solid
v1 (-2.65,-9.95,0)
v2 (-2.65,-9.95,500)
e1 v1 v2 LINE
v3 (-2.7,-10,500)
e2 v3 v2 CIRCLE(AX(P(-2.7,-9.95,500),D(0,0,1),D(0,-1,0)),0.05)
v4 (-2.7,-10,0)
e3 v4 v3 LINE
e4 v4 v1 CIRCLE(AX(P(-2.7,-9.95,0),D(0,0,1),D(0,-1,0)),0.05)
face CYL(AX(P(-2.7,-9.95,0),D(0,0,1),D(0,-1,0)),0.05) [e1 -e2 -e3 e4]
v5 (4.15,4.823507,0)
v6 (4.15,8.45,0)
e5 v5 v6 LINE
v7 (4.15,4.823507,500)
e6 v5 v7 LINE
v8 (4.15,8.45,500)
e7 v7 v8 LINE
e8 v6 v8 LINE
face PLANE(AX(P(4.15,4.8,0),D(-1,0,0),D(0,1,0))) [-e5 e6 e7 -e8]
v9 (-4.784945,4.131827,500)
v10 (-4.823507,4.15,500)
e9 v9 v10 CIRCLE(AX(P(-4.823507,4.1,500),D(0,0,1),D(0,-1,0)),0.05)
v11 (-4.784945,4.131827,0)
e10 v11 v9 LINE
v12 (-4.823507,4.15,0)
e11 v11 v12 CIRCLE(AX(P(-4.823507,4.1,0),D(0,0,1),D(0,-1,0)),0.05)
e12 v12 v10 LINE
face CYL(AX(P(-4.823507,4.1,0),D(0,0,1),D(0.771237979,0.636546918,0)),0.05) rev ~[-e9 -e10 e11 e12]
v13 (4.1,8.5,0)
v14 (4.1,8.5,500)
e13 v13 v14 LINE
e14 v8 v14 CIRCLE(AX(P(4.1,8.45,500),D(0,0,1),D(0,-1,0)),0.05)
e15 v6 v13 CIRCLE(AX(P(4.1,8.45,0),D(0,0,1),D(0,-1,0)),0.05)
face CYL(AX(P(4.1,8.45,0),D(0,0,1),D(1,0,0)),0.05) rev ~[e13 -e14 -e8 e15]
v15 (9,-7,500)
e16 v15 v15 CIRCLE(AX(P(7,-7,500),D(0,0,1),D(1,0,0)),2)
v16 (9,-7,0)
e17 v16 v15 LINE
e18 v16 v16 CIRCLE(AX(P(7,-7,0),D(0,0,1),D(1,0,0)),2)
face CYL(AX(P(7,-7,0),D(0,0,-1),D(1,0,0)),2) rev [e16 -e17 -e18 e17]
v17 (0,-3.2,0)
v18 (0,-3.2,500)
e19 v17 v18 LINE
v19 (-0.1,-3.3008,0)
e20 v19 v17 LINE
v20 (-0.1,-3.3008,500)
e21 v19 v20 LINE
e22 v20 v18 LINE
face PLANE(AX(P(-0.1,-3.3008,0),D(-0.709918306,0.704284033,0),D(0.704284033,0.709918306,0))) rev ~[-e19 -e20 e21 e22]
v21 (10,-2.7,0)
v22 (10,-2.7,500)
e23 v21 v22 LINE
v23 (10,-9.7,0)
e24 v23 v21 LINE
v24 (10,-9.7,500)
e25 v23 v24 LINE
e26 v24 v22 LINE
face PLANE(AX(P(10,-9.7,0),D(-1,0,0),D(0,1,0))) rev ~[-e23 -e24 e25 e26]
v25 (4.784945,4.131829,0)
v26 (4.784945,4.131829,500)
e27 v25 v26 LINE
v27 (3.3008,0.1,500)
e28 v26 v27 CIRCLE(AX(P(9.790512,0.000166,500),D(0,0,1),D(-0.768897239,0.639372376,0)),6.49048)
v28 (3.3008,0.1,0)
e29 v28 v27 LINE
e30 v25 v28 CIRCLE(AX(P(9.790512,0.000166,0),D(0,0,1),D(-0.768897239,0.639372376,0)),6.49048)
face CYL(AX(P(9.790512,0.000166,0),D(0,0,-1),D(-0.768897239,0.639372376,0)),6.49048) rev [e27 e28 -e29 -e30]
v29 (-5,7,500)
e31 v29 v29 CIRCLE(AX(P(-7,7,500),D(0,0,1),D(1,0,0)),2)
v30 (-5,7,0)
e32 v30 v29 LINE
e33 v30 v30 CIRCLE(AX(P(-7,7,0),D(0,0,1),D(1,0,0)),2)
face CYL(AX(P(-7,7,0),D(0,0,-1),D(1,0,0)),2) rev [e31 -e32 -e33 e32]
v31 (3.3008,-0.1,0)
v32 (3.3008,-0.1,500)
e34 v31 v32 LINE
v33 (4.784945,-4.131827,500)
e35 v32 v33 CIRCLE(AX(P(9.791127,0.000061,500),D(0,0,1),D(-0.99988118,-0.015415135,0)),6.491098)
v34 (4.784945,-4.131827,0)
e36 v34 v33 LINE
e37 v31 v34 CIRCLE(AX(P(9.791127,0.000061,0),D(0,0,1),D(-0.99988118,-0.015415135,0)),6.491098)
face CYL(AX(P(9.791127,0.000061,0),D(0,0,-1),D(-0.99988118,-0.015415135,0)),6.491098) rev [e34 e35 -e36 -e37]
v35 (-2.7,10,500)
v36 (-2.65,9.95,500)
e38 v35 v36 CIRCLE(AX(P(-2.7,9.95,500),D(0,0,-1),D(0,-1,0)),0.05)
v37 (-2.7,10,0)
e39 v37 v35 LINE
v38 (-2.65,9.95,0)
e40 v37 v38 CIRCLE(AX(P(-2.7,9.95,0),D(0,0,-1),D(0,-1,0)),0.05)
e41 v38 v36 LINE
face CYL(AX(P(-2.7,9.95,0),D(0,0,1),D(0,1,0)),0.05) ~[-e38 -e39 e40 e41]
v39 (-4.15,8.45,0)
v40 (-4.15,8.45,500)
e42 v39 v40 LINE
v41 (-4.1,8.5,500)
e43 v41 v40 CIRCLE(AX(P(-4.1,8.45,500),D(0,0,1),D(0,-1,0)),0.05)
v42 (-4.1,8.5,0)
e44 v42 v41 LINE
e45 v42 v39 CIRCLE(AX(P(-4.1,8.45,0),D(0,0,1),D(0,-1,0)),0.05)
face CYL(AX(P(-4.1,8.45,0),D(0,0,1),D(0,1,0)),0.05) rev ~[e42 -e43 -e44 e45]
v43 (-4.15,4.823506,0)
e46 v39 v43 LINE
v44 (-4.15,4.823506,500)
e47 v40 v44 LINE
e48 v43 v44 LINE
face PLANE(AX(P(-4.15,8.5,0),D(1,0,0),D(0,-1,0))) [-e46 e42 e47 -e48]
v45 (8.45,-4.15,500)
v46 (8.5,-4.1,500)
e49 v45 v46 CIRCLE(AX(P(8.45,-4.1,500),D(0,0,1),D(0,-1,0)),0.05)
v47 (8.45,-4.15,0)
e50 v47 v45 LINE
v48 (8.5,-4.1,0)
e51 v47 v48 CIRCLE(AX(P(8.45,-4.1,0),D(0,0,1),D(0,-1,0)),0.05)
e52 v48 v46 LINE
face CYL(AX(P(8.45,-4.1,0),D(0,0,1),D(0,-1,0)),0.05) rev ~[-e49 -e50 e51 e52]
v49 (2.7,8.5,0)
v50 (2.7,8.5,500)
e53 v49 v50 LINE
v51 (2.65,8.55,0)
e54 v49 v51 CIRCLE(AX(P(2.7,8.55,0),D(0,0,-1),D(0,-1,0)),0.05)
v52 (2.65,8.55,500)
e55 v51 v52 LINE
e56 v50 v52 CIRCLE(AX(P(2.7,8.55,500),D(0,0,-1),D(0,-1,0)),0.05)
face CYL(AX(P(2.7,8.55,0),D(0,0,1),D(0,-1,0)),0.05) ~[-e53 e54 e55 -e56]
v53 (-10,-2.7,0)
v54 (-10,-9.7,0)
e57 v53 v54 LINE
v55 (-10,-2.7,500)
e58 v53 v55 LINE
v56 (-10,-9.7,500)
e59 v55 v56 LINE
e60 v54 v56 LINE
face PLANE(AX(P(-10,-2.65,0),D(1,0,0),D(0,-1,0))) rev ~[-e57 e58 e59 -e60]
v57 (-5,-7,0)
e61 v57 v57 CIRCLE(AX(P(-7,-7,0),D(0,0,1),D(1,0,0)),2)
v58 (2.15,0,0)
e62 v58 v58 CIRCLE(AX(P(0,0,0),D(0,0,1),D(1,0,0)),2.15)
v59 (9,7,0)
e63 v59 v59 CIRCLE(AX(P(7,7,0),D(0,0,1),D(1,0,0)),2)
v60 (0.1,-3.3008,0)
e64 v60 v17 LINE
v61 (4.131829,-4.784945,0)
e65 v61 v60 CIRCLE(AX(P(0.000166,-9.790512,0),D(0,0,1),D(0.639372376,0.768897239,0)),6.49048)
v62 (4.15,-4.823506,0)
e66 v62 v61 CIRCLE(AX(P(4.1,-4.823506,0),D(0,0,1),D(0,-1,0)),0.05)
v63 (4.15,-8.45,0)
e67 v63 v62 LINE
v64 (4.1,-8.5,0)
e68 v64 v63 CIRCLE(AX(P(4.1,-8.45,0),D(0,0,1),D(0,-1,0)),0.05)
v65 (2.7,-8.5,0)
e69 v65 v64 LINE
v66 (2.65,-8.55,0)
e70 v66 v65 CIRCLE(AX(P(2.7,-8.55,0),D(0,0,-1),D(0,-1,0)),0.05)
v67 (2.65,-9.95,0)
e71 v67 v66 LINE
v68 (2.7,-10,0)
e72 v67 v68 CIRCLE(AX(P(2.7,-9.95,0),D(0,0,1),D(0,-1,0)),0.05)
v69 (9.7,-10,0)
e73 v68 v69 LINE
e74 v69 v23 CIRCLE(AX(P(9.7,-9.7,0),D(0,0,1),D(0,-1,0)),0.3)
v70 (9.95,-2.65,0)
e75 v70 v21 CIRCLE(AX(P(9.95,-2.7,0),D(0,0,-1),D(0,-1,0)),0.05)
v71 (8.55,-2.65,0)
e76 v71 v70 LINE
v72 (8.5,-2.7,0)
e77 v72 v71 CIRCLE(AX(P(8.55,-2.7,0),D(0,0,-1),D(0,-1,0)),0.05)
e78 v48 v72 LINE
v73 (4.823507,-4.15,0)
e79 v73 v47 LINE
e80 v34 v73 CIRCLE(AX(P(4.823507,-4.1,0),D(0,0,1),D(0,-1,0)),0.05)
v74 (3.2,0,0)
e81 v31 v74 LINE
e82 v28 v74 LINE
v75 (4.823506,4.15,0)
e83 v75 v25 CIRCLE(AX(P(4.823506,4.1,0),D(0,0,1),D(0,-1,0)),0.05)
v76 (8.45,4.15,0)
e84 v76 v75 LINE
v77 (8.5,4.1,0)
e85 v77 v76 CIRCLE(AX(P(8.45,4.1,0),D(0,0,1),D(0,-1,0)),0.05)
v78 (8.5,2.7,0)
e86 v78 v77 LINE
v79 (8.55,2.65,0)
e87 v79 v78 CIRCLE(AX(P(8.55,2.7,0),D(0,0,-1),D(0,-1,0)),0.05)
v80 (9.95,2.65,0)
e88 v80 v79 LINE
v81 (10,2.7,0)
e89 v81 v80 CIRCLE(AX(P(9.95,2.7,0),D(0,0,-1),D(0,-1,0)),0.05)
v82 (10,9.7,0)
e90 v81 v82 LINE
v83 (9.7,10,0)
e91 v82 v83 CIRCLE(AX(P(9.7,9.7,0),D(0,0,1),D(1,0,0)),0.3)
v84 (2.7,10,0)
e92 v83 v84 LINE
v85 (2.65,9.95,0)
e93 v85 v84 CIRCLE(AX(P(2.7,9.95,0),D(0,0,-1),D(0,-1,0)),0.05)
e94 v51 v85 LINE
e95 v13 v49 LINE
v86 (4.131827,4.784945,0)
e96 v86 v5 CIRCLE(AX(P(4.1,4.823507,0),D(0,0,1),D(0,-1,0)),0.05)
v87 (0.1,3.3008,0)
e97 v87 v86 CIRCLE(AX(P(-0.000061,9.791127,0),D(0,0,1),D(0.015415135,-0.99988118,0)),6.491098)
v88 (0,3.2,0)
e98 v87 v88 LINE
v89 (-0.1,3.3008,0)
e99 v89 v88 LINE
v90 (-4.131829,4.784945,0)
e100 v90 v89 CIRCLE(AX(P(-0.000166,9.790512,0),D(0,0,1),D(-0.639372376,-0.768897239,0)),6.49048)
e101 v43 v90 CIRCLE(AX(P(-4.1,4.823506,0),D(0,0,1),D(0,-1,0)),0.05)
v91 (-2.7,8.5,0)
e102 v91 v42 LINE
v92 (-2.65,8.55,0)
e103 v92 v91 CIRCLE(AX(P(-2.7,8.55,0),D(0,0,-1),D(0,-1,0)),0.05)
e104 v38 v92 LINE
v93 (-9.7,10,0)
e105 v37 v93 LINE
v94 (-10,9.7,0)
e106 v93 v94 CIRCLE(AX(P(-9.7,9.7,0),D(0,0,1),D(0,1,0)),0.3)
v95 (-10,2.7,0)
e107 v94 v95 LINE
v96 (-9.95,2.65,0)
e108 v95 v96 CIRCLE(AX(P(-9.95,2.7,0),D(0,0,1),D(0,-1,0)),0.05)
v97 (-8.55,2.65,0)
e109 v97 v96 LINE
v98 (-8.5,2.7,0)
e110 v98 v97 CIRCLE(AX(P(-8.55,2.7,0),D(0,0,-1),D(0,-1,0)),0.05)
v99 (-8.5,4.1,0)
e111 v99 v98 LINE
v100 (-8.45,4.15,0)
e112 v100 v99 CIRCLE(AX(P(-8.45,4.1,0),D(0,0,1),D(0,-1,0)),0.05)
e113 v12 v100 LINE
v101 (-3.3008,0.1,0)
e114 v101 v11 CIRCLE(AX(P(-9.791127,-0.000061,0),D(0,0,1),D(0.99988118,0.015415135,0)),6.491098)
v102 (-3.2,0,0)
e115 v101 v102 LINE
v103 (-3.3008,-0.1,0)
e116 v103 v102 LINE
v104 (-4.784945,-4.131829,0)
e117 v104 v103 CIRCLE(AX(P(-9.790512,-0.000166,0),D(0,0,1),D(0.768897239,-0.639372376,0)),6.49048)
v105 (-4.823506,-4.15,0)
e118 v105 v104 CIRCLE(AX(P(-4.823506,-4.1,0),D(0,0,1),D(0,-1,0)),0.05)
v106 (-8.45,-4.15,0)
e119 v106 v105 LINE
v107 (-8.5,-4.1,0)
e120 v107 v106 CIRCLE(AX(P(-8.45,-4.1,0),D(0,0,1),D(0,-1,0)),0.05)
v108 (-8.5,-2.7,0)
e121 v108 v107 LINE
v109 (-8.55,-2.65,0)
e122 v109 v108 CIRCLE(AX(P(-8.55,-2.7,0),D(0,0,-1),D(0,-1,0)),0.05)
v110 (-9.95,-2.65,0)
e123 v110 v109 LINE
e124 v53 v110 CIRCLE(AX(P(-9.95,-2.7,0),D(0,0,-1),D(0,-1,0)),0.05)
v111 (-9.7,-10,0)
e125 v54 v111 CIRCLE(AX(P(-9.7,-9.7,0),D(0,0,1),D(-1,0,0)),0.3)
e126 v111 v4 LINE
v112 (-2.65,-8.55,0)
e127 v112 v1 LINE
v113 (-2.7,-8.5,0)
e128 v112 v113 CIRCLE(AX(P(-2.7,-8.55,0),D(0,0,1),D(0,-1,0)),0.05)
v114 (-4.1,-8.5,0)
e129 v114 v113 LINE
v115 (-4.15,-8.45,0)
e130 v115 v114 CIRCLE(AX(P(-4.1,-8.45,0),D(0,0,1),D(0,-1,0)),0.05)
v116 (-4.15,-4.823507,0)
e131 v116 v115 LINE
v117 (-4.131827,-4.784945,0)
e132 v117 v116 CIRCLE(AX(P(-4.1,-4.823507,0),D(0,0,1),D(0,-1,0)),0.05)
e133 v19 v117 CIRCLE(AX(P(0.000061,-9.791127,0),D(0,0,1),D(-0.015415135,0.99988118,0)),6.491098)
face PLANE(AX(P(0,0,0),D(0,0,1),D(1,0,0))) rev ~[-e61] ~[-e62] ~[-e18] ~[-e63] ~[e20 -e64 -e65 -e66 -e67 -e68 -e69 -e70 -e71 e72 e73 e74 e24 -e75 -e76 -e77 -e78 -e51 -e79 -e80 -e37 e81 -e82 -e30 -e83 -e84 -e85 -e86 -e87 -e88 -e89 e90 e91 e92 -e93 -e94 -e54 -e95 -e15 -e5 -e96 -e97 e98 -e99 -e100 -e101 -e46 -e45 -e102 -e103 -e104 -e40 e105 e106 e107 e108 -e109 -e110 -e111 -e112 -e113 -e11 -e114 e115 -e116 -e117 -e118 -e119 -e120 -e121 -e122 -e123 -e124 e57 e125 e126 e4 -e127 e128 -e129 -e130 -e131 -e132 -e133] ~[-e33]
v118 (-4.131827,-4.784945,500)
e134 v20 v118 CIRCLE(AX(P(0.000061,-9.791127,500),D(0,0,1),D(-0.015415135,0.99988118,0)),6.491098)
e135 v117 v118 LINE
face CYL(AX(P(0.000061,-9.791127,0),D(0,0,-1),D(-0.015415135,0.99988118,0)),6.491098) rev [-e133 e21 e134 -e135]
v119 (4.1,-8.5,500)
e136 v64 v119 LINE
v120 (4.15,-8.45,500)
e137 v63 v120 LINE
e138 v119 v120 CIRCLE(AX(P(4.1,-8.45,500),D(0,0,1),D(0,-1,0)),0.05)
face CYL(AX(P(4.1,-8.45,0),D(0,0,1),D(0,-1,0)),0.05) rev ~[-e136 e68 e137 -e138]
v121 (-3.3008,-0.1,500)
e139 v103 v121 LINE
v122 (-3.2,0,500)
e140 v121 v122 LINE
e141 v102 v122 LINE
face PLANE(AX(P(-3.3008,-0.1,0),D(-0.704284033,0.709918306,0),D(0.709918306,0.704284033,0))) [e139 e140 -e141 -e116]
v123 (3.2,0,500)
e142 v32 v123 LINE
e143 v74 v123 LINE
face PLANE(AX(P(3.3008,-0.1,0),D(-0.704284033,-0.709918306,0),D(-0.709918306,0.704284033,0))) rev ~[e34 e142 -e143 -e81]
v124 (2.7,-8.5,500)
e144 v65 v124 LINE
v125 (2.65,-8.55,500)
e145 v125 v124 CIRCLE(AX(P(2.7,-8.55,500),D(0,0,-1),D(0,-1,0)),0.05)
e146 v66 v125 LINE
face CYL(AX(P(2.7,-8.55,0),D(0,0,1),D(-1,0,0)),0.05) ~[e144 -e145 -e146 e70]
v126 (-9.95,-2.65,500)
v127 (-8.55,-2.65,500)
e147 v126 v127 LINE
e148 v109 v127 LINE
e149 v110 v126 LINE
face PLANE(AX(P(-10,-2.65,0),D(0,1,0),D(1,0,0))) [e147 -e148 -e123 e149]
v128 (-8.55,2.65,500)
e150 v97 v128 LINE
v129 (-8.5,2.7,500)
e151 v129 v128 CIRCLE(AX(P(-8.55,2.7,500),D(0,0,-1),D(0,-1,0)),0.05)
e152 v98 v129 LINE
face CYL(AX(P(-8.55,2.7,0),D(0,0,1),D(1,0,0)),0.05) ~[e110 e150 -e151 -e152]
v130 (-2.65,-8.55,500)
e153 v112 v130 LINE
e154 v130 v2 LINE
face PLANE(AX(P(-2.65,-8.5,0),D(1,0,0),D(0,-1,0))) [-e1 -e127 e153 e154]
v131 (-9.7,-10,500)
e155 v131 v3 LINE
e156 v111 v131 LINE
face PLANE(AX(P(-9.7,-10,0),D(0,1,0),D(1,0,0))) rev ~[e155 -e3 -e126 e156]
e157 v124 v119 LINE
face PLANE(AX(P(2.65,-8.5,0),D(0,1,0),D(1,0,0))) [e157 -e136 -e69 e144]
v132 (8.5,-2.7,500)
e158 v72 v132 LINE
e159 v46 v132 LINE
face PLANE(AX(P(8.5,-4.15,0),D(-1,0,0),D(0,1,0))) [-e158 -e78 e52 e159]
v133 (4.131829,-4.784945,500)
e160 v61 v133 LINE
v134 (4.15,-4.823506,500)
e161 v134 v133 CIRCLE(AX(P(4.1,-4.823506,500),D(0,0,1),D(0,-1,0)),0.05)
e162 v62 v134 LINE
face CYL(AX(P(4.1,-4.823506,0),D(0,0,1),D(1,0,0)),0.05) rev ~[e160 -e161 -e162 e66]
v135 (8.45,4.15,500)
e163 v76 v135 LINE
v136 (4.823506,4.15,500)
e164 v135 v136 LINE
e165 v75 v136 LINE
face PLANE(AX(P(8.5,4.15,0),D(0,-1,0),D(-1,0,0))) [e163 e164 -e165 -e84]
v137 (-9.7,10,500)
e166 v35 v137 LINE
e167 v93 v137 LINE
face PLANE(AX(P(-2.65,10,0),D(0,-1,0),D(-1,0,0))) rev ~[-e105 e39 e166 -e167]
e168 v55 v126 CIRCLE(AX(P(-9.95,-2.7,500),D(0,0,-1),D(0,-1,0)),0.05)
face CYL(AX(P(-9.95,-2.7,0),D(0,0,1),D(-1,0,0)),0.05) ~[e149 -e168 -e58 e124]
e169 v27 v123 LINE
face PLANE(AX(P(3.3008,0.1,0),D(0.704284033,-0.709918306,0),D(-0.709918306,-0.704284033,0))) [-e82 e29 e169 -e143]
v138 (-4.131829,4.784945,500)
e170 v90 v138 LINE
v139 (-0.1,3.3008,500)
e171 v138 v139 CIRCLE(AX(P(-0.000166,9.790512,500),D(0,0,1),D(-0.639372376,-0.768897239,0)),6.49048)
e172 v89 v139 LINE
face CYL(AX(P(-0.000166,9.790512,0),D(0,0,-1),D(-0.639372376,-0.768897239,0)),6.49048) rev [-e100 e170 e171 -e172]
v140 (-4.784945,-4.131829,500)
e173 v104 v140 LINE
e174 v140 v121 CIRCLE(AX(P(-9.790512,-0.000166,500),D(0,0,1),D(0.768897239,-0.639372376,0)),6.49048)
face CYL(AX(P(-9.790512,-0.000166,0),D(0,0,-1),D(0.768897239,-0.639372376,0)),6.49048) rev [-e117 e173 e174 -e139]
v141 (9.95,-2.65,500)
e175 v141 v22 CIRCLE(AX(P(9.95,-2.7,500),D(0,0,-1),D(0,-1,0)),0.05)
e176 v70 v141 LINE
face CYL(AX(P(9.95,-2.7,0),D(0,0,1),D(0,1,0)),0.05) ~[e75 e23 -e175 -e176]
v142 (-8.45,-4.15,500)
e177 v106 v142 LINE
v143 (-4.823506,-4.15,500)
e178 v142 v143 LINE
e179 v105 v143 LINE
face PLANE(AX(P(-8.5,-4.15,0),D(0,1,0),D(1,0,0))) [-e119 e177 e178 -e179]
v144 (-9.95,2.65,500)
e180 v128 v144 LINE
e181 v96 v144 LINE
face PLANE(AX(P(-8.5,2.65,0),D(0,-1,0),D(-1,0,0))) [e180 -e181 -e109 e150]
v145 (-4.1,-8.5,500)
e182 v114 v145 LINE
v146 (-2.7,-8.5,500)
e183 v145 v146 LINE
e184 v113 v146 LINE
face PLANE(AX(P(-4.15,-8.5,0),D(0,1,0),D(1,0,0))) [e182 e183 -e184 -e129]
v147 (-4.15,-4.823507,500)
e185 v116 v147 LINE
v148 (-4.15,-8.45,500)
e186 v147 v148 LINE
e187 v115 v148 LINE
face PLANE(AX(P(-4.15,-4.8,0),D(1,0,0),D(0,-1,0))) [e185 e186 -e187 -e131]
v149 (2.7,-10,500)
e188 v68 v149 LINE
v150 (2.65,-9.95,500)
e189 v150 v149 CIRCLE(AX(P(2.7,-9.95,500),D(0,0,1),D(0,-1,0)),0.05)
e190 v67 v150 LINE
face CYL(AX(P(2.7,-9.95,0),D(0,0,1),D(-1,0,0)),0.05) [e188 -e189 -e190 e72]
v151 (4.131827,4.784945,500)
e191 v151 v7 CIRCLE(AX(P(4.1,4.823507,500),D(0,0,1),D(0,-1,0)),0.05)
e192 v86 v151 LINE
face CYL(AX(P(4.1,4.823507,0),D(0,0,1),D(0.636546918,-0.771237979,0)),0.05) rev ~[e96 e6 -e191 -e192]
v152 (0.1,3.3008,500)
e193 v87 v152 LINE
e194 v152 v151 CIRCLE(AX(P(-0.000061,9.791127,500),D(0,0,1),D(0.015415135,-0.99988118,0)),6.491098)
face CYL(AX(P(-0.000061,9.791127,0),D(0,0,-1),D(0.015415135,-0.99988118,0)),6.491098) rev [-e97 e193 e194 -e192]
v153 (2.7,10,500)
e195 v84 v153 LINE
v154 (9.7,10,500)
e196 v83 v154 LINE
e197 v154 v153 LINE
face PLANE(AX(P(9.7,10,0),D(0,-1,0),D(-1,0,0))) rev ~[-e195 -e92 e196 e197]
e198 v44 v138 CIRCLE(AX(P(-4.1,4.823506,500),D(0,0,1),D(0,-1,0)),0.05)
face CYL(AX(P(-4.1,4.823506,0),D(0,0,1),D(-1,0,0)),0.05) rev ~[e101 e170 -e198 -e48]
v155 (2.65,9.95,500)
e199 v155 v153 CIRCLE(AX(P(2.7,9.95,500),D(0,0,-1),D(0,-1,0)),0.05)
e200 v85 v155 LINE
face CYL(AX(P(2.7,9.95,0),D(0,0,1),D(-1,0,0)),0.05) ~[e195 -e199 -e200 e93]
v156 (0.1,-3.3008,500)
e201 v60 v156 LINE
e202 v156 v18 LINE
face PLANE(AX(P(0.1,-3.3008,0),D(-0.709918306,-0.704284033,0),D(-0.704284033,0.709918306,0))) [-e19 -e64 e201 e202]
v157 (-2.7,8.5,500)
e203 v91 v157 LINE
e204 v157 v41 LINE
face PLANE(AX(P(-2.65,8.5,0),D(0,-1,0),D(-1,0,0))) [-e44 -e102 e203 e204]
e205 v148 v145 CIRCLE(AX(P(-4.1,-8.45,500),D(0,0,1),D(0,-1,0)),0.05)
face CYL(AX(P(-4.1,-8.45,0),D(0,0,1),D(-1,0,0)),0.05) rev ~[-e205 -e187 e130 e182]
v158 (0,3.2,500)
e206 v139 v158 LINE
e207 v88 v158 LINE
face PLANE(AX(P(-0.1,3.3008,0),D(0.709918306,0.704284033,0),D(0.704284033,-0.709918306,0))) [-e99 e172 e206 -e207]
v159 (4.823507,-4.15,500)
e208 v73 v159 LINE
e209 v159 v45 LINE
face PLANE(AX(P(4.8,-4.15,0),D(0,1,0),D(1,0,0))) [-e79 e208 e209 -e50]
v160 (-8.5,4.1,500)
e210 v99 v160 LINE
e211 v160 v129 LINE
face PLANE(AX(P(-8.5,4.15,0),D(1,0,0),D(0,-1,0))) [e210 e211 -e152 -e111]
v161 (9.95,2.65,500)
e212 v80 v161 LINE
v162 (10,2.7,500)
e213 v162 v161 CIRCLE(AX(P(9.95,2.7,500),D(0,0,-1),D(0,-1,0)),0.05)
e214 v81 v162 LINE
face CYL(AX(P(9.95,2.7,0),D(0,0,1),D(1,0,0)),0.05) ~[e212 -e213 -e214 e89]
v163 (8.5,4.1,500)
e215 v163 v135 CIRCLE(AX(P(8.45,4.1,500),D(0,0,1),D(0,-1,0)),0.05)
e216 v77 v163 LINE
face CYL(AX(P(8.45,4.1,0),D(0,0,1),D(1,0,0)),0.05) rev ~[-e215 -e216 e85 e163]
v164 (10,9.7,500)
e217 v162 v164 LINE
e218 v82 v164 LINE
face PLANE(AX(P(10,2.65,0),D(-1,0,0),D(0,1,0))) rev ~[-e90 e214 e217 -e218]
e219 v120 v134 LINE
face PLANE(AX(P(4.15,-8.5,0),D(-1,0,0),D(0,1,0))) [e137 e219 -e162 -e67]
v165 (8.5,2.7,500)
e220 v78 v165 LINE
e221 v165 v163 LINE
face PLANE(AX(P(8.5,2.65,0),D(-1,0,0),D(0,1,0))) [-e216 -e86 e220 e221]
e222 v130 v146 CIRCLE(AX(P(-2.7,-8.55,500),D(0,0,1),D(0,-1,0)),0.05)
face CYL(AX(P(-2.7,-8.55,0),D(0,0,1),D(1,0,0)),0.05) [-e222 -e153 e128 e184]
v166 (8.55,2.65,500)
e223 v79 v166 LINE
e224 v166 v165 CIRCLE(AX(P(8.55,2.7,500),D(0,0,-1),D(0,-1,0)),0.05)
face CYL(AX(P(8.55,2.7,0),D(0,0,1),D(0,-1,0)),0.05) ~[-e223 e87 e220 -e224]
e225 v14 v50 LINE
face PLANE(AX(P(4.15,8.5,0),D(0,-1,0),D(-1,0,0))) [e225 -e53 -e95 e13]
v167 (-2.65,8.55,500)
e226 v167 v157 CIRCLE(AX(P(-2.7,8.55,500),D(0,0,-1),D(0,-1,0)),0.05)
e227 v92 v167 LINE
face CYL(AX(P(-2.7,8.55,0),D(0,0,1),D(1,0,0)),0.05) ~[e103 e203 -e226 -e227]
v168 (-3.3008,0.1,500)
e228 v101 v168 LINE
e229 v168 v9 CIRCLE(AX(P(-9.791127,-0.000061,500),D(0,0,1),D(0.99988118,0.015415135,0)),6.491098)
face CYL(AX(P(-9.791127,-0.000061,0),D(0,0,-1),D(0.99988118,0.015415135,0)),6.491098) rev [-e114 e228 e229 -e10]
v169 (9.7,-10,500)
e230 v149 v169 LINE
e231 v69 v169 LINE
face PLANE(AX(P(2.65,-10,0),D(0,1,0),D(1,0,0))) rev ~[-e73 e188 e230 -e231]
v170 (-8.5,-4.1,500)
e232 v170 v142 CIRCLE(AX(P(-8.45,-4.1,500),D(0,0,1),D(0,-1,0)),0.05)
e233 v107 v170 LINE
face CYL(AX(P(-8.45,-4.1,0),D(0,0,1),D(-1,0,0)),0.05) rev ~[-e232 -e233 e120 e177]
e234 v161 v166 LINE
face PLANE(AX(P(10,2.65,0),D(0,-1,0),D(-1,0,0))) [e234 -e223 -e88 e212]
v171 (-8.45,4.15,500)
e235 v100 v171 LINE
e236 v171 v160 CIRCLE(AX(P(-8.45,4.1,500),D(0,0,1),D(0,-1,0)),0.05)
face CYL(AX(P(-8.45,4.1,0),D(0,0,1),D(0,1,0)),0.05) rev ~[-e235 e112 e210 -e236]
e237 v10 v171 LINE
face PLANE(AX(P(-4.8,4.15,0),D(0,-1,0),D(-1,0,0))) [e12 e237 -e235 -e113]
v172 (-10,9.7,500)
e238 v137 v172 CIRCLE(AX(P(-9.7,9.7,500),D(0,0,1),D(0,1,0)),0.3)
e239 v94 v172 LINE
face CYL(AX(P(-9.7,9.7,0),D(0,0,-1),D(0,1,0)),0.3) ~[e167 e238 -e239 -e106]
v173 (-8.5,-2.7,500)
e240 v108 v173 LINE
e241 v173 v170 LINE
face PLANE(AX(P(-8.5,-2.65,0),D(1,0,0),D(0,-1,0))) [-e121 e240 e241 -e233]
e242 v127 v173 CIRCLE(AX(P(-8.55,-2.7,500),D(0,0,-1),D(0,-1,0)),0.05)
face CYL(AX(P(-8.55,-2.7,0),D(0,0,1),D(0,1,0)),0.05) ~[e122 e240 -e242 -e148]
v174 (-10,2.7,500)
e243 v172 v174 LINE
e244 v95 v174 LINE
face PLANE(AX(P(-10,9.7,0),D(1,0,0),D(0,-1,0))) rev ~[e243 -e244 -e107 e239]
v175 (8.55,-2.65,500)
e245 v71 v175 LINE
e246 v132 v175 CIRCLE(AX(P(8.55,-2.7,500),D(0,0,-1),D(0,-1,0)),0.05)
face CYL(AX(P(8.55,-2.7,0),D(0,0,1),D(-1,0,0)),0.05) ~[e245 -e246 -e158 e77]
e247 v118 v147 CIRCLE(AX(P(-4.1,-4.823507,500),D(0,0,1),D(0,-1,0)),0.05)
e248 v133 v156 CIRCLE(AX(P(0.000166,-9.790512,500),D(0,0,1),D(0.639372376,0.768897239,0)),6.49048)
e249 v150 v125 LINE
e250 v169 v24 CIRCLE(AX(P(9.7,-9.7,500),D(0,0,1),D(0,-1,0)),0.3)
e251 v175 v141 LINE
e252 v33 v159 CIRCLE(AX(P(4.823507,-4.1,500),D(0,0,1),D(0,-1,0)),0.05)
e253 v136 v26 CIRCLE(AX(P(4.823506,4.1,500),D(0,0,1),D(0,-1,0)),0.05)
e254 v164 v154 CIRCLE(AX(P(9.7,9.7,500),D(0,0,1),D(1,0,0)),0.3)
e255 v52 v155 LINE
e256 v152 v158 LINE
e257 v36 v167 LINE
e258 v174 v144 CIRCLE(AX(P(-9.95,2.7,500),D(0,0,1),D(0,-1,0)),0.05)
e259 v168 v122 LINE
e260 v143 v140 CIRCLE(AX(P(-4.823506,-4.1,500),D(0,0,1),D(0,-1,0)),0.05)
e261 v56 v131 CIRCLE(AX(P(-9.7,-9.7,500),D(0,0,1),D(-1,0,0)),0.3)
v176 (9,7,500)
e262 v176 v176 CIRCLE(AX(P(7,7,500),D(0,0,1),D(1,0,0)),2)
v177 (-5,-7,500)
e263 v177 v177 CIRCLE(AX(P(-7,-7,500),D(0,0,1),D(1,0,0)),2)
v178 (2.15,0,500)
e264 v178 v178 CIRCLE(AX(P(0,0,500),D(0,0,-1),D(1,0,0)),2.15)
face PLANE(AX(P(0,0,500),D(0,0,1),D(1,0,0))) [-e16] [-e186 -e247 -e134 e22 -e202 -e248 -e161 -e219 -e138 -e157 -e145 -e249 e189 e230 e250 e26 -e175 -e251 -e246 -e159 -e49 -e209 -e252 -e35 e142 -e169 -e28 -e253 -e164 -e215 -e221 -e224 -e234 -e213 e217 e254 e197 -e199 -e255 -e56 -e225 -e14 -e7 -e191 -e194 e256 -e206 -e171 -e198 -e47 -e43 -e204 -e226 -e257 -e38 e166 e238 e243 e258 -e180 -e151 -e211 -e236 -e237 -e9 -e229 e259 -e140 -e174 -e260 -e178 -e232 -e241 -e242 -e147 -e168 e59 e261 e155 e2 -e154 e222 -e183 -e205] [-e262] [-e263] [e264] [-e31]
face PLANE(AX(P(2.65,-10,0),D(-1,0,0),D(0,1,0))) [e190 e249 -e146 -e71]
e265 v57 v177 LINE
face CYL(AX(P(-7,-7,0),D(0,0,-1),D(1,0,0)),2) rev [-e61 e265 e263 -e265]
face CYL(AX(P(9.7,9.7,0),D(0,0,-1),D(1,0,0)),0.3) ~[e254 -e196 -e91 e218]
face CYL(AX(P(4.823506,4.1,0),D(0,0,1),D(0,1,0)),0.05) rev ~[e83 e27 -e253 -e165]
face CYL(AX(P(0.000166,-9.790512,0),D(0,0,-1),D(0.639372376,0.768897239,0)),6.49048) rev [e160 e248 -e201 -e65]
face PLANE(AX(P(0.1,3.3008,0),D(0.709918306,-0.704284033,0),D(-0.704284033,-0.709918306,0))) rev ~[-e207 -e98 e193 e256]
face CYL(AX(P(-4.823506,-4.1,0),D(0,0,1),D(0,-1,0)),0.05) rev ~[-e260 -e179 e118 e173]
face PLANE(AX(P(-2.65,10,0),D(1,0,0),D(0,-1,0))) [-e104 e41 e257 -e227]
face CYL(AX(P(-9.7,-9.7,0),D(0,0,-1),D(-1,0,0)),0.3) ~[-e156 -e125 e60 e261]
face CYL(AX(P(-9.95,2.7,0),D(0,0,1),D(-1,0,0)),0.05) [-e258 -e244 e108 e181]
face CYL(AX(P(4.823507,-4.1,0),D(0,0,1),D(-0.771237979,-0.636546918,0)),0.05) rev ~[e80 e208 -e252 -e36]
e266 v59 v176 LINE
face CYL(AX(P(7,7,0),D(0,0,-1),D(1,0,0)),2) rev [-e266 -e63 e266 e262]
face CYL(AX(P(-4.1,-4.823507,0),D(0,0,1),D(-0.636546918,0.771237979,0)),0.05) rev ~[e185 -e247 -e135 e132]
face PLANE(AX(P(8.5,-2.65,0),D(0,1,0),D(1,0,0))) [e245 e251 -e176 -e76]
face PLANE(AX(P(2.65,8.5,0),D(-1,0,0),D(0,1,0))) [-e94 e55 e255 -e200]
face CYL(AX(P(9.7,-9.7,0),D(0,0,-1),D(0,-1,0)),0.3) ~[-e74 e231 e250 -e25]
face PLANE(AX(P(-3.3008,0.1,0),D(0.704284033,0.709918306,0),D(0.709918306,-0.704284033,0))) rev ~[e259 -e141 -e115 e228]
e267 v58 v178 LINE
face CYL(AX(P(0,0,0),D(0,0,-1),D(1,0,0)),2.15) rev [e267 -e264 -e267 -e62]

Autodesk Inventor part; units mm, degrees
ref_plane "YZ Plane" through (0, 0, 0) normal (1, 0, 0) x (0, 1, 0)
ref_plane "XZ Plane" through (0, 0, 0) normal (0, 1, 0) x (-1, 0, 0)
ref_plane "XY Plane" through (0, 0, 0) normal (0, 0, 1) x (1, 0, 0)
sketch "스케치1" plane through (0, 0, 0) normal (0, 0, 1) x (1, 0, 0)
  line L0 (-9.7, -10) -> (9.7, -10)
  line L1 (10, -9.7) -> (10, 9.7)
  line L2 (9.7, 10) -> (-9.7, 10)
  line L3 (-10, 9.7) -> (-10, -9.7)
  line L4 (-10, -10) -> (10, 10) construction
  line L5 (10, -10) -> (-10, 10) construction
  circle A0 centre (-7, 7) radius 2
  line L6 (0, 15.6683) -> (0, -20)
  line L7 (-22.0072, 0) -> (22.0072, 0)
  circle A1 centre (0, 0) radius 2.15
  arc A2 (-9.7, 10) -> (-10, 9.7) centre (-9.7, 9.7) ccw
  arc A3 (10, 9.7) -> (9.7, 10) centre (9.7, 9.7) ccw
  arc A4 (9.7, -10) -> (10, -9.7) centre (9.7, -9.7) ccw
  arc A5 (-10, -9.7) -> (-9.7, -10) centre (-9.7, -9.7) ccw
  line L8 (-2.65, 10) -> (-2.65, 8.5)
  line L9 (-2.65, 8.5) -> (-4.15, 8.5)
  line L10 (-4.15, 8.5) -> (-4.15, 4.8)
  line L11 (4.15, 4.8) -> (4.15, 8.5)
  line L12 (4.15, 8.5) -> (2.65, 8.5)
  line L13 (2.65, 8.5) -> (2.65, 10)
  line L14 (-0.1, 3.3008) -> (0, 3.2)
  line L15 (0.1, 3.3008) -> (0, 3.2)
  arc A6 (-4.15, 4.8) -> (-0.1, 3.3008) centre (0, 9.7908) ccw
  arc A7 (0.1, 3.3008) -> (4.15, 4.8) centre (0, 9.7908) ccw
  circle A8 centre (7, 7) radius 2
  circle A9 centre (-7, -7) radius 2
  circle A10 centre (7, -7) radius 2
  line L16 (-3.3008, 0.1) -> (-3.2, 0)
  line L17 (-3.3008, -0.1) -> (-3.2, 0)
  arc A11 (-4.8, -4.15) -> (-3.3008, -0.1) centre (-9.7908, 0) ccw
  line L18 (-8.5, -4.15) -> (-4.8, -4.15)
  line L19 (-10, -2.65) -> (-8.5, -2.65)
  line L20 (-8.5, 2.65) -> (-10, 2.65)
  arc A12 (-3.3008, 0.1) -> (-4.8, 4.15) centre (-9.7908, 0) ccw
  line L21 (-4.8, 4.15) -> (-8.5, 4.15)
  line L22 (-8.5, 4.15) -> (-8.5, 2.65)
  line L23 (-8.5, -2.65) -> (-8.5, -4.15)
  line L24 (-0.1, -3.3008) -> (0, -3.2)
  line L25 (0.1, -3.3008) -> (0, -3.2)
  arc A13 (4.15, -4.8) -> (0.1, -3.3008) centre (0, -9.7908) ccw
  line L26 (4.15, -8.5) -> (4.15, -4.8)
  line L27 (2.65, -10) -> (2.65, -8.5)
  line L28 (-2.65, -8.5) -> (-2.65, -10)
  arc A14 (-0.1, -3.3008) -> (-4.15, -4.8) centre (0, -9.7908) ccw
  line L29 (-4.15, -4.8) -> (-4.15, -8.5)
  line L30 (-4.15, -8.5) -> (-2.65, -8.5)
  line L31 (2.65, -8.5) -> (4.15, -8.5)
  line L32 (3.3008, -0.1) -> (3.2, 0)
  line L33 (3.3008, 0.1) -> (3.2, 0)
  arc A15 (4.8, 4.15) -> (3.3008, 0.1) centre (9.7908, 0) ccw
  line L34 (8.5, 4.15) -> (4.8, 4.15)
  line L35 (10, 2.65) -> (8.5, 2.65)
  line L36 (8.5, -2.65) -> (10, -2.65)
  arc A16 (3.3008, -0.1) -> (4.8, -4.15) centre (9.7908, 0) ccw
  line L37 (4.8, -4.15) -> (8.5, -4.15)
  line L38 (8.5, -4.15) -> (8.5, -2.65)
  line L39 (8.5, 2.65) -> (8.5, 4.15)
  point P0 (2.65, 9.25)
  point P1 (-2.65, 9.25)
  point P2 (-4.15, 6.65)
  point P3 (0, 3.3)
  point P4 (-3.3, 0)
  point P5 (-9.25, -2.65)
  point P6 (-6.65, -4.15)
  point P7 (-9.25, 2.65)
  point P8 (0, -3.3)
  point P9 (2.65, -9.25)
  point P10 (4.15, -6.65)
  point P11 (-2.65, -9.25)
  point P12 (3.3, 0)
  point P13 (9.25, 2.65)
  point P14 (6.65, 4.15)
  point P15 (9.25, -2.65)
  dimension "d0" = 20
  dimension "d1" = 20
  dimension "d2" = 4
  dimension "d3" = 14
  dimension "d4" = 14
  dimension "d5" = 4.3
  dimension "d6" = 0.3
  dimension "d9" = 8.3
  dimension "d10" = 5.3
  dimension "d11" = 5.3
  dimension "d12" = 1.5
  dimension "d15" = 0.1
  dimension "d16" = 0.1
  dimension "d17" = 0.1
  dimension "d19" = 3.7
  dimension "d22" = 360
extrude "프로파일 길이 설정" add sketch "스케치1" along normal blind 500 contours A5 L3 L19 L23 L18 A11 L17 L7 A1 L6 L24 A14 L29 L30 L28 L0 | L27 L31 L26 A13 L25 L6 A1 L7 L32 A16 L37 L38 L36 L1 A4 L0 | L3 A2 L2 L8 L9 L10 A6 L14 L6 A1 L7 L16 A12 L21 L22 L20 | A1 L6 L15 A7 L11 L12 L13 L2 A3 L1 L35 L39 L34 A15 L33 L7
fillet "모서리" radius 0.05 32 edges at (10, 2.65, 250) (8.5, 2.65, 250) (8.5, 4.15, 250) (10, -2.65, 250) (8.5, -2.65, 250) (8.5, -4.15, 250) (2.65, 8.5, 250) (2.65, 10, 250) (4.15, 8.5, 250) (-4.15, 8.5, 250) (-2.65, 8.5, 250) (-2.65, 10, 250) (-10, 2.65, 250) (-8.5, 2.65, 250) (-8.5, 4.15, 250) (-8.5, -4.15, 250) (-8.5, -2.65, 250) (-10, -2.65, 250) (-2.65, -10, 250) (-2.65, -8.5, 250) (-4.15, -8.5, 250) (2.65, -8.5, 250) (4.15, -8.5, 250) (2.65, -10, 250) (4.15, -4.8, 250) (-4.15, -4.8, 250) (-4.8, -4.15, 250) (-4.8, 4.15, 250) (-4.15, 4.8, 250) (4.15, 4.8, 250) (4.8, -4.15, 250) (4.8, 4.15, 250)
equation "\"d0\" = d1"
equation "\"d11\" = d10"
equation "\"d17\" = d16"
properties part number "500mm 20x20 Profile"
